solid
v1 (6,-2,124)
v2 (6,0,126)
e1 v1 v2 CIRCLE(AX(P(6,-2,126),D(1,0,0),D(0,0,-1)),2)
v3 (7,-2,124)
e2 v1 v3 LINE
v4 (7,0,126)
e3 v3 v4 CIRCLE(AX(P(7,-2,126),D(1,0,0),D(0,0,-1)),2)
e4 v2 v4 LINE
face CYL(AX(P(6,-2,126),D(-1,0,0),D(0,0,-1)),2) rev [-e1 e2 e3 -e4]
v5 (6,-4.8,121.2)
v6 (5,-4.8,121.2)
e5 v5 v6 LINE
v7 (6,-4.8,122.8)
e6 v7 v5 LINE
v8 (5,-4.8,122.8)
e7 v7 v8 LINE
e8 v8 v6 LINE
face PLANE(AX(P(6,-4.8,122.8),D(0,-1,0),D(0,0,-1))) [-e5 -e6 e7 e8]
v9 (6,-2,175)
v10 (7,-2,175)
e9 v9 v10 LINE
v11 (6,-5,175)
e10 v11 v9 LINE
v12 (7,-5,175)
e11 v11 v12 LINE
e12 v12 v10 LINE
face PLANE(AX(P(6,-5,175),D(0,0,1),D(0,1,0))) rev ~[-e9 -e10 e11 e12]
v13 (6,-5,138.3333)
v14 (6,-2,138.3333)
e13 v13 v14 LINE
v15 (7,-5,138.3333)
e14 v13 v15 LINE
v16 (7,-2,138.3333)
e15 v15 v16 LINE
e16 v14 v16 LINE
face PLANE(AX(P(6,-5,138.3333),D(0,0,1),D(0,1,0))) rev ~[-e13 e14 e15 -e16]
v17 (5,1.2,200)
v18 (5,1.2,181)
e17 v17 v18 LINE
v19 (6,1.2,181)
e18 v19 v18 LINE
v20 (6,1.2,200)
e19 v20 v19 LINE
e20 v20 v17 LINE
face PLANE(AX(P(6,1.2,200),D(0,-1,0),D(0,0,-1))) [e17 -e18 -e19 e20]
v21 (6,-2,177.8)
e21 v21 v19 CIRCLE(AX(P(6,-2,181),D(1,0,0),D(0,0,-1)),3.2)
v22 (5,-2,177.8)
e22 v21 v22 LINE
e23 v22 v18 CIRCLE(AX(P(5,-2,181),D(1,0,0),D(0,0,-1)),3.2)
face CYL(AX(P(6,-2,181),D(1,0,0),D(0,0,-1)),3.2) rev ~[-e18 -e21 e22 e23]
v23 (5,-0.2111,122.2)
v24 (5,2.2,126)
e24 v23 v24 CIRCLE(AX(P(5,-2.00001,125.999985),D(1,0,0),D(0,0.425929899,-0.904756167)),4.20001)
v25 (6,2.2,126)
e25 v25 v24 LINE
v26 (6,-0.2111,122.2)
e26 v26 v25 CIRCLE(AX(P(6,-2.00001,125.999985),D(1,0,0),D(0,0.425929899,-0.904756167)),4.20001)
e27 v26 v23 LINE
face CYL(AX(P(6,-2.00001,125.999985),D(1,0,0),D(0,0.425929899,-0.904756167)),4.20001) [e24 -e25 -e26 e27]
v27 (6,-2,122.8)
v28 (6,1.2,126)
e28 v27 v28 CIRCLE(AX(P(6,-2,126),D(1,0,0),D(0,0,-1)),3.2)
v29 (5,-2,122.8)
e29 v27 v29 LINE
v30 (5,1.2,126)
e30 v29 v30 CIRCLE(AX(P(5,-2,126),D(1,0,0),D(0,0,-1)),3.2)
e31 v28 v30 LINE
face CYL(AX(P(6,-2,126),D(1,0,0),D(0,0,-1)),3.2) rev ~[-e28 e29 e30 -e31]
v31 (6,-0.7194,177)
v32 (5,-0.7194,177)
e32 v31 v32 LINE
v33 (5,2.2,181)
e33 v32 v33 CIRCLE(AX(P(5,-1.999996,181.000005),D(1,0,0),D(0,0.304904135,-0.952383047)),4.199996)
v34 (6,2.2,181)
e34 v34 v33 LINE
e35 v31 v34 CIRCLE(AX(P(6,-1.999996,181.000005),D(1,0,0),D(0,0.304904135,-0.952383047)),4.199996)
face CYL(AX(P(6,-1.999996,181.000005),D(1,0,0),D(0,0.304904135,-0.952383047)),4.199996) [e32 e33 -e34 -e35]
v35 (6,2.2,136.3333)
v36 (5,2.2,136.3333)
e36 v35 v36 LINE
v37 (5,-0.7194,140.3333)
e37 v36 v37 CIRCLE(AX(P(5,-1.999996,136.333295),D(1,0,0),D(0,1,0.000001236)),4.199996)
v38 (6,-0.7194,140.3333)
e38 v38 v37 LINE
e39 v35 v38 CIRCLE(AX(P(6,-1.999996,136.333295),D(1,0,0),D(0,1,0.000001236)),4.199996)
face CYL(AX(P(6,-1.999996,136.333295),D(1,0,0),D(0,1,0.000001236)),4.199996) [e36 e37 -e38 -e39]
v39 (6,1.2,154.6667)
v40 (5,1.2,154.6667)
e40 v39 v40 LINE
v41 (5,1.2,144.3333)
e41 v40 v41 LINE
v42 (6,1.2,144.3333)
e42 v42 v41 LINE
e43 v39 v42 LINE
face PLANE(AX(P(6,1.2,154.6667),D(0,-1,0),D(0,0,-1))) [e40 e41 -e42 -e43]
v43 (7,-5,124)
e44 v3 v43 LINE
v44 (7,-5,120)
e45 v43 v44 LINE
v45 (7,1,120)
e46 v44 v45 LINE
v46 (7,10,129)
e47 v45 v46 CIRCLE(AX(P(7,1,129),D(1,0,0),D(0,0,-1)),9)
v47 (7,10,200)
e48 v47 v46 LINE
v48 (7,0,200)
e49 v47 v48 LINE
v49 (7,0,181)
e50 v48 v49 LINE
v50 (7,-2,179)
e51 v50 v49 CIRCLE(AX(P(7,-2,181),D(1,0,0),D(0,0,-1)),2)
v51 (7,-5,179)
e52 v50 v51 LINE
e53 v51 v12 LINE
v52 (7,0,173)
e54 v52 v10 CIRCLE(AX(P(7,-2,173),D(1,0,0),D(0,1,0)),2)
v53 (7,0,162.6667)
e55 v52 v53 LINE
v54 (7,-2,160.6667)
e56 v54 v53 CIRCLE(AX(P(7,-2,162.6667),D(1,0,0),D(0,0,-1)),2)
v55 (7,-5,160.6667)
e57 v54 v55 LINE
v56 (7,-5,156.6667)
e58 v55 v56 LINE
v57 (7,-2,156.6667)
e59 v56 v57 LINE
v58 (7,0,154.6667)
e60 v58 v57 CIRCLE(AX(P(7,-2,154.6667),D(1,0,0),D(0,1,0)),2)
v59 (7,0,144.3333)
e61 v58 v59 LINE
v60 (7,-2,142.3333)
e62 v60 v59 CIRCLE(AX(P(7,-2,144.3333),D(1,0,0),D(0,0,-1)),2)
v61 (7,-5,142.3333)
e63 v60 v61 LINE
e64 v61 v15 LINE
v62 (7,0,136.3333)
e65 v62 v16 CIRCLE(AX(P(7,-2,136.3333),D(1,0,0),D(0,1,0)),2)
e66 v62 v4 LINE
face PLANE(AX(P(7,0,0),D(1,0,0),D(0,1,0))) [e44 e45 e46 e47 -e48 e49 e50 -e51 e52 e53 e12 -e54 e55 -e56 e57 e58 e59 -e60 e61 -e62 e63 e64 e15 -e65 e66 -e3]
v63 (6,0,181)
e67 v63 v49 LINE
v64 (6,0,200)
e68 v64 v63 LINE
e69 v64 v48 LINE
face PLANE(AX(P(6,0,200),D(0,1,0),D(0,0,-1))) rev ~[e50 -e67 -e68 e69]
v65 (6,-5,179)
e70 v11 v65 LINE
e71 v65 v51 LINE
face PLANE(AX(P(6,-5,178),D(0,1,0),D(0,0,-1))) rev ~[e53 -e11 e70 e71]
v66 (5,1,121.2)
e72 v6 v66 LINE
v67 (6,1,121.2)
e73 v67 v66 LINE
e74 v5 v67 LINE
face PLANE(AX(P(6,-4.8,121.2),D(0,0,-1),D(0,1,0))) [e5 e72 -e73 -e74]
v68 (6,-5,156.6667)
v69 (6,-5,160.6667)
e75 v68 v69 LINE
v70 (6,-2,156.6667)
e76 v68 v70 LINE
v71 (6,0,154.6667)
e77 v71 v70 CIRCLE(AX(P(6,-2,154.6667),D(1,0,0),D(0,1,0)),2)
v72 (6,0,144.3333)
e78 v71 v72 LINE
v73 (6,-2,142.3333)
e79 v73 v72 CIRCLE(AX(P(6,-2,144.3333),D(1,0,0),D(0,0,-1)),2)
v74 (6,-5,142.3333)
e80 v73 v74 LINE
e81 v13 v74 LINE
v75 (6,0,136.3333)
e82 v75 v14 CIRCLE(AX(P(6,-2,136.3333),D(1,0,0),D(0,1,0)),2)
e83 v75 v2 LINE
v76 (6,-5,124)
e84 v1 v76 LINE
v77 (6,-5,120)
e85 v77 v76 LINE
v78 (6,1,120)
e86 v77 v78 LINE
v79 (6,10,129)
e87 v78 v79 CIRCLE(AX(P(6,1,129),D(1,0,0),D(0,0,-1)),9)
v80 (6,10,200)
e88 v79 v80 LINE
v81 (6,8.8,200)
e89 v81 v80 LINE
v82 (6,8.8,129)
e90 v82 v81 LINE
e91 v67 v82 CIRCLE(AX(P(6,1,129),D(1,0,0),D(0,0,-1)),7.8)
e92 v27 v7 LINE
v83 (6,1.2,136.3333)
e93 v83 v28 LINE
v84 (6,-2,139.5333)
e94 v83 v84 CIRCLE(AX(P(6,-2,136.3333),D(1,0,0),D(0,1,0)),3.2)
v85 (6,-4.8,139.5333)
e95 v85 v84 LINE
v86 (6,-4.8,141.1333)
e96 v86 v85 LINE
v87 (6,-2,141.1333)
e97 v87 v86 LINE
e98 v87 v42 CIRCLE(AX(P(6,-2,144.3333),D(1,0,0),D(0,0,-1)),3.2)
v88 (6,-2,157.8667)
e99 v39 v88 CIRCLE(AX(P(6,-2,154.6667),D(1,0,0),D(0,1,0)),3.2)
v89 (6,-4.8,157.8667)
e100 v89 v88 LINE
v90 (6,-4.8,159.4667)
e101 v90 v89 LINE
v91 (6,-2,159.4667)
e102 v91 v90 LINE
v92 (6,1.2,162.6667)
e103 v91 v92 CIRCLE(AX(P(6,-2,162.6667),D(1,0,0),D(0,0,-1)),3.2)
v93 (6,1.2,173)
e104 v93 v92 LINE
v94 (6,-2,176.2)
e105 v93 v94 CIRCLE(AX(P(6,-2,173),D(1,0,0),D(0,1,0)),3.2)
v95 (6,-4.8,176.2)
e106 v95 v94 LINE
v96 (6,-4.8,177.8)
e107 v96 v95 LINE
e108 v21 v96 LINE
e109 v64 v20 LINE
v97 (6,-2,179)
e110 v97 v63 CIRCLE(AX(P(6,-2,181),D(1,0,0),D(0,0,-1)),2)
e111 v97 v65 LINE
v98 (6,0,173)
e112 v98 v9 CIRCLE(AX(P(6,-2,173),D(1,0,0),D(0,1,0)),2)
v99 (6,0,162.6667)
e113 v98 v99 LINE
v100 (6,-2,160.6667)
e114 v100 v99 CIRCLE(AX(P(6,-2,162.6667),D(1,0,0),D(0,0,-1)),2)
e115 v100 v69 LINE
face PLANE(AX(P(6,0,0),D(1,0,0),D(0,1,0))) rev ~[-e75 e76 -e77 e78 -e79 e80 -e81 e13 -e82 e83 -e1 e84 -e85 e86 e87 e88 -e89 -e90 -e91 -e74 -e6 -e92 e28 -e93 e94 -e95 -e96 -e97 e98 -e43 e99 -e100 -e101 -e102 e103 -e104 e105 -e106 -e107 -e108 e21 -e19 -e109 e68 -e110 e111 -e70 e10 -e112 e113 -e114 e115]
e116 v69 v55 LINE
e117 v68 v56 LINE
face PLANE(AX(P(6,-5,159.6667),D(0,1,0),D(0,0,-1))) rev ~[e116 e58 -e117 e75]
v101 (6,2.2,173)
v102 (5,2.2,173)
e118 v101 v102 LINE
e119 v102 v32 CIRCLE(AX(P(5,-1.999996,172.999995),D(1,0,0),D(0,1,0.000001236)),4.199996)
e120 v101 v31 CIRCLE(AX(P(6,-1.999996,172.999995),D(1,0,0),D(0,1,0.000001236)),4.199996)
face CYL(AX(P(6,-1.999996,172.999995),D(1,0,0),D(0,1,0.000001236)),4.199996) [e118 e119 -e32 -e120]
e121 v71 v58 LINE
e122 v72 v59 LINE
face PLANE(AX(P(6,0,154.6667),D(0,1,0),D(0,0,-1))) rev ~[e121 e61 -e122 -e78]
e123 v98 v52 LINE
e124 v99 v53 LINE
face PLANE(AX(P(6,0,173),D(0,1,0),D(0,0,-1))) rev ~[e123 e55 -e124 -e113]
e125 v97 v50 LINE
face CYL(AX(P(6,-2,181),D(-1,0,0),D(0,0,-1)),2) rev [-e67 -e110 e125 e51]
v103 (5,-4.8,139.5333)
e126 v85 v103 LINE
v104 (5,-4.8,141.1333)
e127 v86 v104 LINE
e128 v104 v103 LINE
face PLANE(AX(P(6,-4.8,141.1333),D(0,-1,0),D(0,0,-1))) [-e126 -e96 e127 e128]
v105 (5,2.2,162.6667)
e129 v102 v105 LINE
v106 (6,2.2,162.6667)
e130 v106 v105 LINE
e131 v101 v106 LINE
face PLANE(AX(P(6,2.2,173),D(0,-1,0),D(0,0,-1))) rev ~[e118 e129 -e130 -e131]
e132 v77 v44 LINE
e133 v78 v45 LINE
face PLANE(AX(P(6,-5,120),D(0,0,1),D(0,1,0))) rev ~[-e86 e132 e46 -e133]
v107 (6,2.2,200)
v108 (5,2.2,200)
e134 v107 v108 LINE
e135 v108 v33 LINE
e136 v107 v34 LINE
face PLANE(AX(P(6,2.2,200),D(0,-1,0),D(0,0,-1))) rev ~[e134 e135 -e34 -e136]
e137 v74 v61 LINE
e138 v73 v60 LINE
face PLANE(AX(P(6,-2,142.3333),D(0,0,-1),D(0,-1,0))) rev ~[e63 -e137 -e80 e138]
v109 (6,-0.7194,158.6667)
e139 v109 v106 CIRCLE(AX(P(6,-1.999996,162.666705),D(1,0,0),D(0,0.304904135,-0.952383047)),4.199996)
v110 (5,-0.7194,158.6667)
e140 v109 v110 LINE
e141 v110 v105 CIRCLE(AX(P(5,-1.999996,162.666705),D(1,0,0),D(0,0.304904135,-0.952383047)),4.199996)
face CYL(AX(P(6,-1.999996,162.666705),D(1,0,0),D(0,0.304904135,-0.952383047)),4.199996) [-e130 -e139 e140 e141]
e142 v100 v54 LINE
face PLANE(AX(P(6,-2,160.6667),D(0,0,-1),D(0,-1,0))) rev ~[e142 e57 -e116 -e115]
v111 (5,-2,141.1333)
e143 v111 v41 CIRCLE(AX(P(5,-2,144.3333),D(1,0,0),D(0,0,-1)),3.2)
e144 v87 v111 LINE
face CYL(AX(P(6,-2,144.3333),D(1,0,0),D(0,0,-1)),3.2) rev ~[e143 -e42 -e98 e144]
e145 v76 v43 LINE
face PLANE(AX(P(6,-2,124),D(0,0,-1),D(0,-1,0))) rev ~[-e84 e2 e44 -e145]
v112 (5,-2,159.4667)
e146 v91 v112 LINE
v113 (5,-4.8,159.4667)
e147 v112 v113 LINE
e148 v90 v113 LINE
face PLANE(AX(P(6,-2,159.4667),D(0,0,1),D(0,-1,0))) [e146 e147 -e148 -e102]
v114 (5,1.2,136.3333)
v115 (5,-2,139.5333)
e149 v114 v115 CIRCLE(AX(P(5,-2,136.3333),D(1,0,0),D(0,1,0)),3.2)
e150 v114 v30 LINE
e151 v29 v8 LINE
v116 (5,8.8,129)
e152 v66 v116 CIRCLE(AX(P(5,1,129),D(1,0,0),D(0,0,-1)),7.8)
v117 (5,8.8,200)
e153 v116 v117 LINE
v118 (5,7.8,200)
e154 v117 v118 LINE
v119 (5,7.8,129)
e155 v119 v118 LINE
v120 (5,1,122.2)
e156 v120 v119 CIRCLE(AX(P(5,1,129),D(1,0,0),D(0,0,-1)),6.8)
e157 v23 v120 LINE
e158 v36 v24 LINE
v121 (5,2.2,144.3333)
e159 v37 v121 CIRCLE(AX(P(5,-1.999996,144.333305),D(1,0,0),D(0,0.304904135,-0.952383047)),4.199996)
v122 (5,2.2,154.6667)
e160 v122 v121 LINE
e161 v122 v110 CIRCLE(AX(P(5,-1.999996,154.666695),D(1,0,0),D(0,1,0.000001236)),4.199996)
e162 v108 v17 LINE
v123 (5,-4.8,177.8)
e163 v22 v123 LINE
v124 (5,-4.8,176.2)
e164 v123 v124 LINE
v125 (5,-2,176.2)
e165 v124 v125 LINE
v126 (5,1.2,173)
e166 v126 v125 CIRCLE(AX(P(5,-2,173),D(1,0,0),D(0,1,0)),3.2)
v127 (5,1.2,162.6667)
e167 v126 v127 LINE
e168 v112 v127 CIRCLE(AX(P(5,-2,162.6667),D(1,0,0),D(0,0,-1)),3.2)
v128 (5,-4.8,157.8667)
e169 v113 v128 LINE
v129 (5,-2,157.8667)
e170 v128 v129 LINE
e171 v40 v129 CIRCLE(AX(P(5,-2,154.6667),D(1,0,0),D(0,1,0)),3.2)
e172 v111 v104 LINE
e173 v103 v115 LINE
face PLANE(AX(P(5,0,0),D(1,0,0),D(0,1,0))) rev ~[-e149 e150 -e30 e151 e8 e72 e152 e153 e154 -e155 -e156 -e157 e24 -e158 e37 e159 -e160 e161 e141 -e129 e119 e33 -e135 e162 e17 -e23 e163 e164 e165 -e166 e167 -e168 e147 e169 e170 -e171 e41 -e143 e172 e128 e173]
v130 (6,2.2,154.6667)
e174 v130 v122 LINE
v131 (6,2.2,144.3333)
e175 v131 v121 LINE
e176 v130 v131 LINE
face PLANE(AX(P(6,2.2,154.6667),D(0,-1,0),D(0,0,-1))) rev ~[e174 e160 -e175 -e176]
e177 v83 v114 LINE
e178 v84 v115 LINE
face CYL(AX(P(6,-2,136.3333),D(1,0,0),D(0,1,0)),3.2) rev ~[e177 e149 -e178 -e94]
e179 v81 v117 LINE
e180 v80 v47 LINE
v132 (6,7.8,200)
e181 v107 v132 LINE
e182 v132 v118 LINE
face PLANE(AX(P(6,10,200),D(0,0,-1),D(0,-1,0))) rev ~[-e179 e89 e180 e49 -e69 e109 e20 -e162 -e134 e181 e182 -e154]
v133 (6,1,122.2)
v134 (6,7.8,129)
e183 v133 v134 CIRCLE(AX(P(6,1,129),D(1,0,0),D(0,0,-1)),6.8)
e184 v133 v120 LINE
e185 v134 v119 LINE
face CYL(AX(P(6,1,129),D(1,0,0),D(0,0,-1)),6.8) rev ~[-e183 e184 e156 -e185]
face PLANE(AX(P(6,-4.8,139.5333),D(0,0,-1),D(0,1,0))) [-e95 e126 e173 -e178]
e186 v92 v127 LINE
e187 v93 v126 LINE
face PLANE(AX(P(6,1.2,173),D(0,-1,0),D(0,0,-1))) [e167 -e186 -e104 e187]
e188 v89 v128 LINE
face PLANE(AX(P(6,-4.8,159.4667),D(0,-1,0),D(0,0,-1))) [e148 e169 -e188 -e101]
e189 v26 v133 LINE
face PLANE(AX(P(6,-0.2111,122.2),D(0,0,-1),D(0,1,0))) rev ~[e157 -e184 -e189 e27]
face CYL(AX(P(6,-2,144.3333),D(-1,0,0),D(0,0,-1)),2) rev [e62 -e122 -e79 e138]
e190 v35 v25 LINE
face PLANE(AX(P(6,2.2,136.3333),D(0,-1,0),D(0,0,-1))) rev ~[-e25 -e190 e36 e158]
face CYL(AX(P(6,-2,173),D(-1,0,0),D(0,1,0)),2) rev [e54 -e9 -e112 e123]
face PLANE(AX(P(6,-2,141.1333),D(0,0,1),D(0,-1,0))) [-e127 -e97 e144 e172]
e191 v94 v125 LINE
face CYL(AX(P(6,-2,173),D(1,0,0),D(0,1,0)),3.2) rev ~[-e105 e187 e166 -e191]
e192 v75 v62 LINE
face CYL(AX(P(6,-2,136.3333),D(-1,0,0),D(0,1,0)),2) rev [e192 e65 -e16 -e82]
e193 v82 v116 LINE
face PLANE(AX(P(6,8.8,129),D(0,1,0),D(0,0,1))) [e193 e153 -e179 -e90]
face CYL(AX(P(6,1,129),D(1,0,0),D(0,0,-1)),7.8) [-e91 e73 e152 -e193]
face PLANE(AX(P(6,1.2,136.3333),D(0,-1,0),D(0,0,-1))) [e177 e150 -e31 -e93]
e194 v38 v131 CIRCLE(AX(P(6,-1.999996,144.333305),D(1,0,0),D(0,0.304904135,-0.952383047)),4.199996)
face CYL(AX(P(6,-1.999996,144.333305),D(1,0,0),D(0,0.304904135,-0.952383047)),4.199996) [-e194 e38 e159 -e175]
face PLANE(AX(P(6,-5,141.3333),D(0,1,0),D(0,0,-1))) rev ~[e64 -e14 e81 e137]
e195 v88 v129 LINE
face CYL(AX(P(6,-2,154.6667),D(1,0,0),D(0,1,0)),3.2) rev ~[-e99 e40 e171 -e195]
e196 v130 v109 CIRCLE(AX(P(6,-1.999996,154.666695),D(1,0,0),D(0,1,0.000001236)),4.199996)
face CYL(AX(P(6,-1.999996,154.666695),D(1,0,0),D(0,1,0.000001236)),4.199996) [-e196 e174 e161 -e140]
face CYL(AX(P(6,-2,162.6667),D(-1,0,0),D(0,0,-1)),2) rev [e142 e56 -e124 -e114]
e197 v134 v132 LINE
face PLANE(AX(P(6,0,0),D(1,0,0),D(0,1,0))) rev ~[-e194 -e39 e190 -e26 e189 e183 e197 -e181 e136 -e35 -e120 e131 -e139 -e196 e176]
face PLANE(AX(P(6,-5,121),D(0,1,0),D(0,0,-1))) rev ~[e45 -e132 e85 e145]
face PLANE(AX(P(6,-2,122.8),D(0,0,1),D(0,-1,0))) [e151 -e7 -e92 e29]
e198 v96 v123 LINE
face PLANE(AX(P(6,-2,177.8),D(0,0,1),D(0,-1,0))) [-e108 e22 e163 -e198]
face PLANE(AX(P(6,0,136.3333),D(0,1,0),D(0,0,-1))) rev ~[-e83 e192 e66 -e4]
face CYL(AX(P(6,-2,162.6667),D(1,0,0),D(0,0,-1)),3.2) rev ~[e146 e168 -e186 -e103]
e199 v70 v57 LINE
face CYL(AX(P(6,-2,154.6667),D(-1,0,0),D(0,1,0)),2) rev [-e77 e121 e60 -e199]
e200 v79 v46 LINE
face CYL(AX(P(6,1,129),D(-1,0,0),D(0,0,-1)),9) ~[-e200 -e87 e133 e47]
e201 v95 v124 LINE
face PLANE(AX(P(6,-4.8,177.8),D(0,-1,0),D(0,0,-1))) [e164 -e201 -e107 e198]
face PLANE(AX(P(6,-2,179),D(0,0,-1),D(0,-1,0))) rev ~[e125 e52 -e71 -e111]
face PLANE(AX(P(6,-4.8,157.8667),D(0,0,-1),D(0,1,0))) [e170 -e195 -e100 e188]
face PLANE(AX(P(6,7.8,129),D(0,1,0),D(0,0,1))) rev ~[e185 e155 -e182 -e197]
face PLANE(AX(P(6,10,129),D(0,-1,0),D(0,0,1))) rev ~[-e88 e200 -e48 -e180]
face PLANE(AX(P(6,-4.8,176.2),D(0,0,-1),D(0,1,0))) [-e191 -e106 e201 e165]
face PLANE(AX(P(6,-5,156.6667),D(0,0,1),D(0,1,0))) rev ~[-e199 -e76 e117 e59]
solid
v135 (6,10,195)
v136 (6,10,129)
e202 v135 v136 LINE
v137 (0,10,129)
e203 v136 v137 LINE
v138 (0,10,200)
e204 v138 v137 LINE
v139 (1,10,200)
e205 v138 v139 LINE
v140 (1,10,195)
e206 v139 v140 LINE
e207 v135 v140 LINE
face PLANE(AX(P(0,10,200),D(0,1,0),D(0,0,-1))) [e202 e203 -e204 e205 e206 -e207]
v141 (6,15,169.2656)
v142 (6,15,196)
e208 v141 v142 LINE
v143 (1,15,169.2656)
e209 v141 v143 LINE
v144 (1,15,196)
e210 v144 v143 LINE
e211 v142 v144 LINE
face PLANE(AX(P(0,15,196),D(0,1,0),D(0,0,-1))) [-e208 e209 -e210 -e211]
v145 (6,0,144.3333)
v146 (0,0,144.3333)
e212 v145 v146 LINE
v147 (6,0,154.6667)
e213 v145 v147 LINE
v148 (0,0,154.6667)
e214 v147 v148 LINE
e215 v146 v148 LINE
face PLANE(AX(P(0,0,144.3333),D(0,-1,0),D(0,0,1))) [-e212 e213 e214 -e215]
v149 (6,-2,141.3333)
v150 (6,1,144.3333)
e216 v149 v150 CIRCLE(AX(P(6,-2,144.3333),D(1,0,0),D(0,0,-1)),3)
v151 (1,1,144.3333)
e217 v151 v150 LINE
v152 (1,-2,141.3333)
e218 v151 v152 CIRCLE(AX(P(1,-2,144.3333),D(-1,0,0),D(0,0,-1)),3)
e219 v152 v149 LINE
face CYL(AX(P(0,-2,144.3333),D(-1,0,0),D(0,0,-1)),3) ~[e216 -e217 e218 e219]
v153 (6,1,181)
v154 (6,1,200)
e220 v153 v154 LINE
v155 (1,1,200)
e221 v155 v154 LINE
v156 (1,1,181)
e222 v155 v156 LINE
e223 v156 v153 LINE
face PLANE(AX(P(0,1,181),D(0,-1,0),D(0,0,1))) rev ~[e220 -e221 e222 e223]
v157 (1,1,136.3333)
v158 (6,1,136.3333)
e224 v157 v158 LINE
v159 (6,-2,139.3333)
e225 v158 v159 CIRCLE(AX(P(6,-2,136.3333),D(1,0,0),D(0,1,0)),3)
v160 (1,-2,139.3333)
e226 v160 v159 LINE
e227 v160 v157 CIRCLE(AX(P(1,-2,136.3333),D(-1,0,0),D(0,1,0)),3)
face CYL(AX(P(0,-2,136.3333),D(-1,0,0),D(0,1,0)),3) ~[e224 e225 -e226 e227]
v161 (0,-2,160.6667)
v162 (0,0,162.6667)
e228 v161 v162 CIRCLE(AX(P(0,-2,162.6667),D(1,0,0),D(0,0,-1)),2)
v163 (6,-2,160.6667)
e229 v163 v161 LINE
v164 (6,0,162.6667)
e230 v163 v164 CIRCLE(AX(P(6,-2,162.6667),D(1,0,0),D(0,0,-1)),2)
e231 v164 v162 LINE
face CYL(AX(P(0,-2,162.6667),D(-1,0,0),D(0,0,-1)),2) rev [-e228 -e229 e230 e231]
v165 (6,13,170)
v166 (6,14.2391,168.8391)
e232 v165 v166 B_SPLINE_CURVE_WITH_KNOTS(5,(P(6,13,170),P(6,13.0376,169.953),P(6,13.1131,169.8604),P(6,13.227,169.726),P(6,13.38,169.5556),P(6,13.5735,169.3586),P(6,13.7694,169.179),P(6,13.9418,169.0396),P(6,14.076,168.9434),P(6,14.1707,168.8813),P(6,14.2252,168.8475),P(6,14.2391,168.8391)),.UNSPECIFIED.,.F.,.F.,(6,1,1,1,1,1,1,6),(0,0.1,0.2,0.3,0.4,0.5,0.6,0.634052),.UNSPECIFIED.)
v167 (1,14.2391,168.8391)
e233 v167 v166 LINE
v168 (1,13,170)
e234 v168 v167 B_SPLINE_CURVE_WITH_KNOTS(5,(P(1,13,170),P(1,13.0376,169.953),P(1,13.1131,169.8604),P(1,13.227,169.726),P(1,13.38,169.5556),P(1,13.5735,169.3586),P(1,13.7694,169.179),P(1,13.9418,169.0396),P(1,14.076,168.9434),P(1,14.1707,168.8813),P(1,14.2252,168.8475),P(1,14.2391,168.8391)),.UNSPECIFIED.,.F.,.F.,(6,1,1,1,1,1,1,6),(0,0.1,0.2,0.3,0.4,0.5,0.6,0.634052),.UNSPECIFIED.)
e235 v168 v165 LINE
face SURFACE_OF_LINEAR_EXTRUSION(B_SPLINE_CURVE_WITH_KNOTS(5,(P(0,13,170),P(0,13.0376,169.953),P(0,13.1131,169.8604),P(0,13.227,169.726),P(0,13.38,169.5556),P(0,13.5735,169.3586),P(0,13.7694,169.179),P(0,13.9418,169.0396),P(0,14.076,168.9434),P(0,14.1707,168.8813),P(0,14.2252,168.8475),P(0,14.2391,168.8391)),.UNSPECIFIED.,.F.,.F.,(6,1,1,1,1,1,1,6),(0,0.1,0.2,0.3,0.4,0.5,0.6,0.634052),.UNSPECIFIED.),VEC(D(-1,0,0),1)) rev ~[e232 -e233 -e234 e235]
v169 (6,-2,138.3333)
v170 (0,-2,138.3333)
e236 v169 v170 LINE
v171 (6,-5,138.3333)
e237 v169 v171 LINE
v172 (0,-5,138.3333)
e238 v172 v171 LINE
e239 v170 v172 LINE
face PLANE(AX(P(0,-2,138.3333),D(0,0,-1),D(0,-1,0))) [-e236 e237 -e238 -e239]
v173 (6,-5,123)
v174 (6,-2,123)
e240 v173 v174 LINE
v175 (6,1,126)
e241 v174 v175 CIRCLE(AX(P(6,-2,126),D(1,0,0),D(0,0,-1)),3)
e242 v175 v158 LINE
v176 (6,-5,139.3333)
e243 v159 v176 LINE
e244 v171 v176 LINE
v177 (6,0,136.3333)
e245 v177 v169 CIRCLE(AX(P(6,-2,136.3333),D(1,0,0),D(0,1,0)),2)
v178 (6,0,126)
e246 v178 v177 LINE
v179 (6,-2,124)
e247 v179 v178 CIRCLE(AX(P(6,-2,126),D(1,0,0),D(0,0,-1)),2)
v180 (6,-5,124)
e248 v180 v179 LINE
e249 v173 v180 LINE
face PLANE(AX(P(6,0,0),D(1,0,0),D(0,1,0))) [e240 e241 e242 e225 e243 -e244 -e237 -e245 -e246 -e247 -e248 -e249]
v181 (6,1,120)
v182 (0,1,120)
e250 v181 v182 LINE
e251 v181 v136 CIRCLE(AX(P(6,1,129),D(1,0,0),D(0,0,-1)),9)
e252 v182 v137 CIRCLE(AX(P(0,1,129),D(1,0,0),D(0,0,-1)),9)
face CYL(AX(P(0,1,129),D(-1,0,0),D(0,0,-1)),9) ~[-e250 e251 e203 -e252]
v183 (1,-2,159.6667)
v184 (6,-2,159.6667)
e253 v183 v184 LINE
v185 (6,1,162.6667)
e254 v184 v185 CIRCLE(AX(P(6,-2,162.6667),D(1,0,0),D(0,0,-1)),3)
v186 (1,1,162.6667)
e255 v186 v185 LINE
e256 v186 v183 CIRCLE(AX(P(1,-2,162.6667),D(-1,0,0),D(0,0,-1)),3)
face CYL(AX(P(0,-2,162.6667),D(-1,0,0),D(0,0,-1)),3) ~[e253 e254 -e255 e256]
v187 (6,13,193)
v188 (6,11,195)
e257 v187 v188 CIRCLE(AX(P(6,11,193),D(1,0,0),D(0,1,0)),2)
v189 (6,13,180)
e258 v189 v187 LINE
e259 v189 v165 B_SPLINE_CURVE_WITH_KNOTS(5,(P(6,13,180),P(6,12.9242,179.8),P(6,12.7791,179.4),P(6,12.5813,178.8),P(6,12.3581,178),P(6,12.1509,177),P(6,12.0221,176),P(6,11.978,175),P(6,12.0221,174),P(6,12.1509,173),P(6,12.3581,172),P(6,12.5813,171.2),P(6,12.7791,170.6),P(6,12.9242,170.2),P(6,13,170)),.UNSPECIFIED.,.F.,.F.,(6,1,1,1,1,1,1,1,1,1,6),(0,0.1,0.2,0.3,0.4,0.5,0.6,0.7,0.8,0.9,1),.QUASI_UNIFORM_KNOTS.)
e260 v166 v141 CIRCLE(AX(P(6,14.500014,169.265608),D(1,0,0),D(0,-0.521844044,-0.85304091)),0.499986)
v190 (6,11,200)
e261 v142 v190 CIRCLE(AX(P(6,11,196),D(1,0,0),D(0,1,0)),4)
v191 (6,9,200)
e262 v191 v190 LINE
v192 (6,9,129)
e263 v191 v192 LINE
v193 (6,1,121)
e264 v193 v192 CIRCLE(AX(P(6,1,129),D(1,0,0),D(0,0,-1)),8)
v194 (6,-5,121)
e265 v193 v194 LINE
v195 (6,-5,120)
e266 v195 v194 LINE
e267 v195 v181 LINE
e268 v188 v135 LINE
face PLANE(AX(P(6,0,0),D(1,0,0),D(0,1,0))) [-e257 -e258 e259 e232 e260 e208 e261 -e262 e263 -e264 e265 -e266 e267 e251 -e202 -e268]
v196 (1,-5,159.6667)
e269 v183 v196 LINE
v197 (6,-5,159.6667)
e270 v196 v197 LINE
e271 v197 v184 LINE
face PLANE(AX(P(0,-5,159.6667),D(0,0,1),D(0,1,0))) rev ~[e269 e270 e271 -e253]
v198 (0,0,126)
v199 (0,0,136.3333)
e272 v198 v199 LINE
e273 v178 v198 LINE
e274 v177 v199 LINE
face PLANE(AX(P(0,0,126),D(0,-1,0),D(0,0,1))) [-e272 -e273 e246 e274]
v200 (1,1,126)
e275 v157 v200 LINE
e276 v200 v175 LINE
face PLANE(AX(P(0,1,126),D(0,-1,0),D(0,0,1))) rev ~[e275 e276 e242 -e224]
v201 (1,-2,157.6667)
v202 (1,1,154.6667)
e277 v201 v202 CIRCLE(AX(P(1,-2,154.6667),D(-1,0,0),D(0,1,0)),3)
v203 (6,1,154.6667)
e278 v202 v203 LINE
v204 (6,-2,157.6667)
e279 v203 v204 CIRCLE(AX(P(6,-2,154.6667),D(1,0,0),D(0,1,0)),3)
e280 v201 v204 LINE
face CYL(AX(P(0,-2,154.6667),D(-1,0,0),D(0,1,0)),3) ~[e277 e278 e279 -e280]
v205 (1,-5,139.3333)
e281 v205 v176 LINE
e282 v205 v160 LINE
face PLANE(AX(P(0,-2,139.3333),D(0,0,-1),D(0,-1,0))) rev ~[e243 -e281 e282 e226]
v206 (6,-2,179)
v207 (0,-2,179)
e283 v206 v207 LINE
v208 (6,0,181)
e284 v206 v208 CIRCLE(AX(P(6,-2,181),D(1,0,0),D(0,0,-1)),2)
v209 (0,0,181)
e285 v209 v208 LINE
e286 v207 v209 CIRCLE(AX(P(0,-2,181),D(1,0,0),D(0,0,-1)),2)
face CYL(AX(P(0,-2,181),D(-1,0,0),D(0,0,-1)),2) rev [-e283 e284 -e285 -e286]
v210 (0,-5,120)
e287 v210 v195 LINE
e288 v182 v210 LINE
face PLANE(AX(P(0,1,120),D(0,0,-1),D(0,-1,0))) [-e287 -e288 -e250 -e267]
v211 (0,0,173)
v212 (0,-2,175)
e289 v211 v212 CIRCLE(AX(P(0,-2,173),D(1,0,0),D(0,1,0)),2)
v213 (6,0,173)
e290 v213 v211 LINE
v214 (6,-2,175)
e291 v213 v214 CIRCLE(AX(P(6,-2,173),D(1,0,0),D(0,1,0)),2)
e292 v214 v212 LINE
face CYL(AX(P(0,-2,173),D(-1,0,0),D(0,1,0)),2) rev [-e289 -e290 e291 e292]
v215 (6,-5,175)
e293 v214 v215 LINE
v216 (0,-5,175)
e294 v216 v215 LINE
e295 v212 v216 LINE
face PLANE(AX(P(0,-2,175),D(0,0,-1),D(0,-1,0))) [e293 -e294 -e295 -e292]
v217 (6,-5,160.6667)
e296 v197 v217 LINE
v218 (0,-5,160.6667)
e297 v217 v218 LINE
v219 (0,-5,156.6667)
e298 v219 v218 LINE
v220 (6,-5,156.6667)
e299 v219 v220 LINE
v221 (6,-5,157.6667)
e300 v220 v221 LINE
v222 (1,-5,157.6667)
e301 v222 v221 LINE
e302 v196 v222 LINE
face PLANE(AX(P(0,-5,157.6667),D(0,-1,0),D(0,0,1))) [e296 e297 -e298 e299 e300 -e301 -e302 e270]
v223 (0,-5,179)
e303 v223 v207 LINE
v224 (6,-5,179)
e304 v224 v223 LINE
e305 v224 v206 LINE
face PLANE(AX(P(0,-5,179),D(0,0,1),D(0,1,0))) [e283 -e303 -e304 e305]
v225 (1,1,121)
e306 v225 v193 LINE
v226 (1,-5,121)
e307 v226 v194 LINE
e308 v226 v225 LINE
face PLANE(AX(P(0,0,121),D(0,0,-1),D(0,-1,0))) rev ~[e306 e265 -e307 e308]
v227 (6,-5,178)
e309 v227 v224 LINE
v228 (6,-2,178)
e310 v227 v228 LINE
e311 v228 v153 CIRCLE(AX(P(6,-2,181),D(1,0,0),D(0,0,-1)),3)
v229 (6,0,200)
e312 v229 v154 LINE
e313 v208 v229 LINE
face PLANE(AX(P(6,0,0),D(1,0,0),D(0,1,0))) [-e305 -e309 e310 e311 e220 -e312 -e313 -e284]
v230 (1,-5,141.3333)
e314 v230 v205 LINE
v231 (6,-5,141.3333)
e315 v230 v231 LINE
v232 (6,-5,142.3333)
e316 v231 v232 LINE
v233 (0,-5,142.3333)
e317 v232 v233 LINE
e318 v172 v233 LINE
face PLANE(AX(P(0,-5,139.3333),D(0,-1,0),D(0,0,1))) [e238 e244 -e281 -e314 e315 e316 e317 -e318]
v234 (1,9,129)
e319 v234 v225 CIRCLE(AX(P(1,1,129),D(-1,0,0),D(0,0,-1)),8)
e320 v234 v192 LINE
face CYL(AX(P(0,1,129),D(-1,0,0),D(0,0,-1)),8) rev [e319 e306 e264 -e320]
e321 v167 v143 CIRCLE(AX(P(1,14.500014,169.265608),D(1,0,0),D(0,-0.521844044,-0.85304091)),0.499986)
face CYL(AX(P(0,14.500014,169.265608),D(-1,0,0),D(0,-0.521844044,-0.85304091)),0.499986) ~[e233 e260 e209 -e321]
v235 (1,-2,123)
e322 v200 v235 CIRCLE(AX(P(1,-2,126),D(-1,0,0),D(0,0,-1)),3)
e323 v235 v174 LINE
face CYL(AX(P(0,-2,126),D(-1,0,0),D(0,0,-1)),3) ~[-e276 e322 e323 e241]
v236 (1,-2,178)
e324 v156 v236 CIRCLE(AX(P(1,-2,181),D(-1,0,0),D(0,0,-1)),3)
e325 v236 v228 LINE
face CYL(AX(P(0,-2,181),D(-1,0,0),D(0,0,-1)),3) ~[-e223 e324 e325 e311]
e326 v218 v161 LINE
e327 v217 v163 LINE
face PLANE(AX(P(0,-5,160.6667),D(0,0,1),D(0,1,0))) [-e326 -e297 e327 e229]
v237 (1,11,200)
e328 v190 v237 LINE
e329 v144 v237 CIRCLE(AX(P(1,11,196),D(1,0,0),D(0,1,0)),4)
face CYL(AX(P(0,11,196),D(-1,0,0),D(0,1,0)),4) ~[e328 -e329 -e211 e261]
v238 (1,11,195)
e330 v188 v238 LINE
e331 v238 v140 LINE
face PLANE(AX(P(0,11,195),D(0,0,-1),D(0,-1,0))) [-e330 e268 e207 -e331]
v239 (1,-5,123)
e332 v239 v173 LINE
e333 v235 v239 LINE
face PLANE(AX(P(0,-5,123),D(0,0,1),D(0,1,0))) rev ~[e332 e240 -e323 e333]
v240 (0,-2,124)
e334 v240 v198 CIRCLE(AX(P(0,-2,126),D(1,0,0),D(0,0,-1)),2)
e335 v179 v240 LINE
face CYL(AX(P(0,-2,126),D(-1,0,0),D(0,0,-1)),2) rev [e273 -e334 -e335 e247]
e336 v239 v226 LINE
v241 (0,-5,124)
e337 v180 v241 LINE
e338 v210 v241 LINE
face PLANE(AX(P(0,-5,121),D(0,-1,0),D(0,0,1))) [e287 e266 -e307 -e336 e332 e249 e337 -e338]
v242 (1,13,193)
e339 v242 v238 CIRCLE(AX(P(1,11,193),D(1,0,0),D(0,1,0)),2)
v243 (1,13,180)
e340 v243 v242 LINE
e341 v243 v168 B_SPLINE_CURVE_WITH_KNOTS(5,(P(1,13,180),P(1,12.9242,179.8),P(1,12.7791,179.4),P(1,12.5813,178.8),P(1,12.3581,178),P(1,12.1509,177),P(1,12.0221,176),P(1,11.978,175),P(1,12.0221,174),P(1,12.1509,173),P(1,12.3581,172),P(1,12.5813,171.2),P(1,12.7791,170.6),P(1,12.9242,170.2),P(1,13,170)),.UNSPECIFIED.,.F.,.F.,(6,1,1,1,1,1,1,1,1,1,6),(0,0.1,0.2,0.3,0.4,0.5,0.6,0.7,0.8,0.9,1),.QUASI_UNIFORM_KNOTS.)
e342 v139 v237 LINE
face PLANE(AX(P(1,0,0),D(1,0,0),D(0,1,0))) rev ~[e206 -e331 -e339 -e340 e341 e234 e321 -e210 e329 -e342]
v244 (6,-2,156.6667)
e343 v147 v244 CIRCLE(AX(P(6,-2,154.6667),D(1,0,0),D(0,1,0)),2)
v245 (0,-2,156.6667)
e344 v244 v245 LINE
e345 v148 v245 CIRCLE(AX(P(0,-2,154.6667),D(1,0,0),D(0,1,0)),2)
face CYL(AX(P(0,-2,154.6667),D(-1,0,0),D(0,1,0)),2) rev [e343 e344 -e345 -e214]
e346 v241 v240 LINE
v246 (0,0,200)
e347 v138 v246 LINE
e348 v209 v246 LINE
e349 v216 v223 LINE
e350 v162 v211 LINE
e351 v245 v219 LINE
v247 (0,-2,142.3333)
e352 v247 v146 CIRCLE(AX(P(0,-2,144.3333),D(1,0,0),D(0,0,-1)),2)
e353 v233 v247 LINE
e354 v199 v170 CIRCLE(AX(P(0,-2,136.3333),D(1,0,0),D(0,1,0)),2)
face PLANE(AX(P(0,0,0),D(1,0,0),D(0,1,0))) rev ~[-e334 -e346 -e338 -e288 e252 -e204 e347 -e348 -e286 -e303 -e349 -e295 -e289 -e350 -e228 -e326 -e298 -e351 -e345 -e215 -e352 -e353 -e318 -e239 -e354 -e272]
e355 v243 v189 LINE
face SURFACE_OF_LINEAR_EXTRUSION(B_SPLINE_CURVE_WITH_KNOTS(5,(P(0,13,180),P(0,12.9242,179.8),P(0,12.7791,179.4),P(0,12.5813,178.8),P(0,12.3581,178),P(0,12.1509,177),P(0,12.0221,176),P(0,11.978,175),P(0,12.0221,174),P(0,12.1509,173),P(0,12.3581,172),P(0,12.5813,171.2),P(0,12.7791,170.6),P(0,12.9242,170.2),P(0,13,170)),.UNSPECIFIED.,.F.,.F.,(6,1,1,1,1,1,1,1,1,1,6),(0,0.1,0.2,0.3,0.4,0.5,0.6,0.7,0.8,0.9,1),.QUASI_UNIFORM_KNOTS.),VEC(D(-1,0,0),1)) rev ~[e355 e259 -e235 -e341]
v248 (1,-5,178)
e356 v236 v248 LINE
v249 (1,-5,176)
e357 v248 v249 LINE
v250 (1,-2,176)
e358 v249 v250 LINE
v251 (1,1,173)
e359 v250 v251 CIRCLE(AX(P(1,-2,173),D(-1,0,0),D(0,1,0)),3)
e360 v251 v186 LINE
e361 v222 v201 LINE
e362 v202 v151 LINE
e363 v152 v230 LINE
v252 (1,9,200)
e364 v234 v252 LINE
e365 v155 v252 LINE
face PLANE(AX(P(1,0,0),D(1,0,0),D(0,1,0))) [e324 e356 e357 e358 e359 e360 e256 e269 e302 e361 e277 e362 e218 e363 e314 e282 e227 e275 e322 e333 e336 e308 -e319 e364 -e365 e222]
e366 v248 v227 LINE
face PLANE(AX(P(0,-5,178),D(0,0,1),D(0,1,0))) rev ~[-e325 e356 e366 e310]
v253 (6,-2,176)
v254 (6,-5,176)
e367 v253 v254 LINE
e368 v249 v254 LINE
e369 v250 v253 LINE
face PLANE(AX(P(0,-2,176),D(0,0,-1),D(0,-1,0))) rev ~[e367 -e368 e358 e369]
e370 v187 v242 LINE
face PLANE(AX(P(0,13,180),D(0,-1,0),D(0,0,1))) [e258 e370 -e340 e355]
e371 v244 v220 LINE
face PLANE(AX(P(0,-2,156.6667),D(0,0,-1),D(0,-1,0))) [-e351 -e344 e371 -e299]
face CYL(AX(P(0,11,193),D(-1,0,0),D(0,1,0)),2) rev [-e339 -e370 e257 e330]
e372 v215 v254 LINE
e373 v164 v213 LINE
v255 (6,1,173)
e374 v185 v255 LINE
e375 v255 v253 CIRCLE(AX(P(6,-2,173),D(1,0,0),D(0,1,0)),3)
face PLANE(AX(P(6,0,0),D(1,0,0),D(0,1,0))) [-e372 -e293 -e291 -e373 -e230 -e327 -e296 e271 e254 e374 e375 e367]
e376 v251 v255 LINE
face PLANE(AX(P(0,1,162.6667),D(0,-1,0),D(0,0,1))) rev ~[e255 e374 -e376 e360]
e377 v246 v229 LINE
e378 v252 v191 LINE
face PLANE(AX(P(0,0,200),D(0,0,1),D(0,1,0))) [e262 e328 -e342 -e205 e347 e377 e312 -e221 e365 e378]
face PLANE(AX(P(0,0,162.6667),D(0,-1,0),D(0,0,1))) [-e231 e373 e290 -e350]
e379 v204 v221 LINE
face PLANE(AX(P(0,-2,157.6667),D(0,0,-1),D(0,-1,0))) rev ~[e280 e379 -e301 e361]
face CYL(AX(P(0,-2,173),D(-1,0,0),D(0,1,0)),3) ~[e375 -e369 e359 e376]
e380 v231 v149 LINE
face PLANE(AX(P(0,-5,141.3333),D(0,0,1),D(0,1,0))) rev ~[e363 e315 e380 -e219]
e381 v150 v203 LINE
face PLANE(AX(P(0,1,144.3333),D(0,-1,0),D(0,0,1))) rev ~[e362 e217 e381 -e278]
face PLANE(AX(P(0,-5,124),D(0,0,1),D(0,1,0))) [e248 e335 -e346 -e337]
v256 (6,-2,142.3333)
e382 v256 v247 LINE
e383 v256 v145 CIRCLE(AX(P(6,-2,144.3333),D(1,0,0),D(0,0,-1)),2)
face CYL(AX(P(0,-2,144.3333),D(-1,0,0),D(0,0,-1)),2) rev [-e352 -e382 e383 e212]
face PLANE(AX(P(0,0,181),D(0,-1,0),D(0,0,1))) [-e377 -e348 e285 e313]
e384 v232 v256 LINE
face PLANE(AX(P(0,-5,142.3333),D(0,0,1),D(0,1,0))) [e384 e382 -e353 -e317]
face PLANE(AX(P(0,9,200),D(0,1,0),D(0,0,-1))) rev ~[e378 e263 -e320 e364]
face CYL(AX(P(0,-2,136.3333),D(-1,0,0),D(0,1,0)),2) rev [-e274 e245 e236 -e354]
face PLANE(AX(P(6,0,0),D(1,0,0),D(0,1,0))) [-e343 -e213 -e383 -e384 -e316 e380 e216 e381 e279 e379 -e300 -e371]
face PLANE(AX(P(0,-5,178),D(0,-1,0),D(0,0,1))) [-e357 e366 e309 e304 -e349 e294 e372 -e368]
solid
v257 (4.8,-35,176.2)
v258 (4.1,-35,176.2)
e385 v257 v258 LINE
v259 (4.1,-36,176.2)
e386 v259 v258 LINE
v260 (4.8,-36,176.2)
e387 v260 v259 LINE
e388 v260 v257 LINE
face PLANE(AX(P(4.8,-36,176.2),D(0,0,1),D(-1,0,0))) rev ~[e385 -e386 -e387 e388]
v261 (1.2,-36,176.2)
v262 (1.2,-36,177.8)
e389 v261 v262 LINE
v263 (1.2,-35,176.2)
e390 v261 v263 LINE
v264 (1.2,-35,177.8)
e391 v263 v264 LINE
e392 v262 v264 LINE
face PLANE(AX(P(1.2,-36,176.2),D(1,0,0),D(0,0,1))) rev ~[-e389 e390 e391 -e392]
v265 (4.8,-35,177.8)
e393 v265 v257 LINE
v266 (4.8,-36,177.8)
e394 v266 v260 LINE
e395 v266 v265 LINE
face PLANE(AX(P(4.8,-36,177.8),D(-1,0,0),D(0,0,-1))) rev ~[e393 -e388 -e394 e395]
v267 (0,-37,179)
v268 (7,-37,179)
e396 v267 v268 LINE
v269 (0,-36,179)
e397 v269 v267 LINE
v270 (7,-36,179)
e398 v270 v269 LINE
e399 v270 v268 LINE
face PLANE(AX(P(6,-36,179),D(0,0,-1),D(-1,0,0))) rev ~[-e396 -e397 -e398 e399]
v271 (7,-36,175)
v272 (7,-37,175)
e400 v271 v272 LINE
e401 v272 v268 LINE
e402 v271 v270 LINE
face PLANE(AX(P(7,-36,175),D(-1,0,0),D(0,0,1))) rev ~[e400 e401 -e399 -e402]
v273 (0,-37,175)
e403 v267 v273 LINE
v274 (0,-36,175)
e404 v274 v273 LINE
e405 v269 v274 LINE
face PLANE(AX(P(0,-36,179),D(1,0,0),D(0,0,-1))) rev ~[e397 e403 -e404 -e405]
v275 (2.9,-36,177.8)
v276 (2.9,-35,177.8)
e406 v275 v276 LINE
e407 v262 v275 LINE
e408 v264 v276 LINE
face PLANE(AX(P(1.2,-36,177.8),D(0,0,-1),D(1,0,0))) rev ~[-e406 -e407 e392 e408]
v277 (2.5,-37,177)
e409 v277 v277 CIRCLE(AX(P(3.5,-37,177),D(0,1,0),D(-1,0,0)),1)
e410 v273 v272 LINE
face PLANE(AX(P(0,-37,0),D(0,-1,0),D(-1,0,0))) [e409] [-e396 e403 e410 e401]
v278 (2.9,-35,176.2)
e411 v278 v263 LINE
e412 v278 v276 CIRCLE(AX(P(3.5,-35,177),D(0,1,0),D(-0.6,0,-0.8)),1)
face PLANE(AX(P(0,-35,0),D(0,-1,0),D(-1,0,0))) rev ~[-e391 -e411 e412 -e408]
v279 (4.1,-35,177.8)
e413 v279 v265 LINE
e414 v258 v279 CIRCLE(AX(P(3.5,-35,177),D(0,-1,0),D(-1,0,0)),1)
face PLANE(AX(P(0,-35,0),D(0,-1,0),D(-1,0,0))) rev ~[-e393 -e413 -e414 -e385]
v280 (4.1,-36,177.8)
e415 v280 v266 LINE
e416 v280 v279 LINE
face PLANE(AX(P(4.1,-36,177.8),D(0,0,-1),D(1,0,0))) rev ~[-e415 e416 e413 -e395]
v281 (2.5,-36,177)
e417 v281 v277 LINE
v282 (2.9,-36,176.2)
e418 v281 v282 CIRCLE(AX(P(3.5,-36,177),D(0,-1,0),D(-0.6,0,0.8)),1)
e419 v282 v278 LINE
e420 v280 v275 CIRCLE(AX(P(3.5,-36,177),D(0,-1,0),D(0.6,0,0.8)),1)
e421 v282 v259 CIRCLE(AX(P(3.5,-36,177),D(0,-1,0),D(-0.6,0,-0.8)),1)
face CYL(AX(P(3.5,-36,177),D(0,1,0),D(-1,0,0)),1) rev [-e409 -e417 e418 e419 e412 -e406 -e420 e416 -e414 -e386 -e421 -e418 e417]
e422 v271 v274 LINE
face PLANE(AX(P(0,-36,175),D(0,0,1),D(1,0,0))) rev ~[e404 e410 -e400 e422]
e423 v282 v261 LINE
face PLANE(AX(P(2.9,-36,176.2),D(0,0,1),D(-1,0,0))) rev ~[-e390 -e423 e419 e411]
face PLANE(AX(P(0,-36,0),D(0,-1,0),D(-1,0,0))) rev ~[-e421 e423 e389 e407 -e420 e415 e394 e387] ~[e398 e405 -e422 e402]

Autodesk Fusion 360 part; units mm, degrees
sketch "Sketch1" plane through (0, 0, 0) normal (1, 0, 0) x (0, 1, 0)
  line L0 (0, 200) -> (10, 200)
  line L1 (10, 200) -> (10, 129)
  line L2 (1, 120) -> (0, 120)
  line L3 (0, 120) -> (-5, 120)
  line L4 (-5, 120) -> (-5, 124)
  line L5 (-5, 124) -> (-2, 124)
  line L6 (-5, 142.3333) -> (-2, 142.3333)
  line L7 (-5, 138.3333) -> (-5, 142.3333)
  line L8 (-2, 138.3333) -> (-5, 138.3333)
  line L9 (-5, 160.6667) -> (-2, 160.6667)
  line L10 (-5, 156.6667) -> (-5, 160.6667)
  line L11 (-2, 156.6667) -> (-5, 156.6667)
  line L12 (-5, 179) -> (-2, 179)
  line L13 (-5, 175) -> (-5, 179)
  line L14 (-2, 175) -> (-5, 175)
  line L15 (0, 181) -> (0, 200)
  line L16 (0, 162.6667) -> (0, 173)
  line L17 (0, 126) -> (0, 136.3333)
  line L18 (0, 144.3333) -> (0, 154.6667)
  arc A0 (1, 120) -> (10, 129) centre (1, 129) ccw
  arc A1 (-2, 179) -> (0, 181) centre (-2, 181) ccw
  arc A2 (0, 173) -> (-2, 175) centre (-2, 173) ccw
  arc A3 (-2, 160.6667) -> (0, 162.6667) centre (-2, 162.6667) ccw
  arc A4 (0, 154.6667) -> (-2, 156.6667) centre (-2, 154.6667) ccw
  arc A5 (-2, 142.3333) -> (0, 144.3333) centre (-2, 144.3333) ccw
  arc A6 (0, 136.3333) -> (-2, 138.3333) centre (-2, 136.3333) ccw
  arc A7 (-2, 124) -> (0, 126) centre (-2, 126) ccw
  line L19 (0, 121) -> (-5, 121)
  line L20 (-5, 123) -> (-2, 123)
  arc A8 (-2, 123) -> (1, 126) centre (-2, 126) ccw
  line L21 (1, 126) -> (1, 136.3333)
  arc A9 (1, 136.3333) -> (-2, 139.3333) centre (-2, 136.3333) ccw
  line L22 (-2, 139.3333) -> (-5, 139.3333)
  line L23 (-5, 141.3333) -> (-2, 141.3333)
  arc A10 (-2, 141.3333) -> (1, 144.3333) centre (-2, 144.3333) ccw
  line L24 (1, 144.3333) -> (1, 154.6667)
  arc A11 (1, 154.6667) -> (-2, 157.6667) centre (-2, 154.6667) ccw
  line L25 (-2, 157.6667) -> (-5, 157.6667)
  line L26 (-5, 159.6667) -> (-2, 159.6667)
  arc A12 (-2, 159.6667) -> (1, 162.6667) centre (-2, 162.6667) ccw
  line L27 (1, 162.6667) -> (1, 173)
  arc A13 (1, 173) -> (-2, 176) centre (-2, 173) ccw
  line L28 (-2, 176) -> (-5, 176)
  line L29 (-5, 178) -> (-2, 178)
  arc A14 (-2, 178) -> (1, 181) centre (-2, 181) ccw
  line L30 (1, 181) -> (1, 200)
  line L31 (9, 200) -> (9, 129)
  arc A15 (1, 121) -> (9, 129) centre (1, 129) ccw
  line L32 (1, 121) -> (0, 121)
  line L33 (10, 200) -> (11, 200)
  line L34 (15, 196) -> (15, 170)
  line L35 (13, 180) -> (13, 193)
  line L36 (11, 195) -> (10, 195)
  spline S0 degree 5 poles (13, 180) (12.9242, 179.8) (12.7791, 179.4) (12.5813, 178.8) (12.3581, 178) (12.1509, 177) (12.0221, 176) (11.978, 175) (12.0221, 174) (12.1509, 173) (12.3581, 172) (12.5813, 171.2) (12.7791, 170.6) (12.9242, 170.2) (13, 170) knots 0 0 0 0 0 0 0.1 0.2 0.3 0.4 0.5 0.6 0.7 0.8 0.9 1 1 1 1 1 1
  arc A16 (15, 196) -> (11, 200) centre (11, 196) ccw
  arc A17 (13, 193) -> (11, 195) centre (11, 193) ccw
  spline S1 degree 5 poles (13, 170) (13.0376, 169.953) (13.1131, 169.8604) (13.227, 169.726) (13.38, 169.5556) (13.5735, 169.3586) (13.7694, 169.179) (13.9418, 169.0396) (14.076, 168.9434) (14.1707, 168.8813) (14.2252, 168.8475) (14.2391, 168.8391) knots 0 0 0 0 0 0 0.1 0.2 0.3 0.4 0.5 0.6 0.634052 0.634052 0.634052 0.634052 0.634052 0.634052
  line L37 (15, 170) -> (15, 169.2656)
  arc A18 (14.2391, 168.8391) -> (15, 169.2656) centre (14.5, 169.2656) ccw
  point P0 (0, 124)
  point P1 (12, 175)
  point P2 (14, 169)
  dimension "d1" = 10
  dimension "d2" = 80
  dimension "d3" = 5
  dimension "d4" = 4
  dimension "d10" = 9
  dimension "d11" = 2
  dimension "d12" = 4
  dimension "d13" = 2
  dimension "d14" = 0.5
extrude "Extrude1" add sketch "Sketch1" along normal blind 1 makes body 1
extrude "Extrude2" add sketch "Sketch1" along normal blind 6 contours L0 L12 L13 L15 A1 L29 A14 L30 | L0 L1 L2 L3 L4 A0 L19 L31 A15 L32 | L1 L33 L34 L35 L36 S0 A16 A17 S1 L37 A18 | L9 L10 L13 L14 L16 A2 A3 L26 A12 L27 A13 L28 | L4 L5 L7 L8 L17 A6 A7 L20 A8 L21 A9 L22 | L6 L7 L10 L11 L18 A4 A5 L23 A10 L24 A11 L25 bodies 1
extrude "Extrude3" cut sketch "Sketch1" along normal blind 1 contours L1 L33 L34 L35 L36 S0 A16 A17 S1 L37 A18 bodies 1
sketch "Sketch2" plane through (6, 0, 0) normal (1, 0, 0) x (0, 1, 0)
  spline S0 degree 5 poles (13, 180) (12.9242, 179.8) (12.7791, 179.4) (12.5813, 178.8) (12.3581, 178) (12.1509, 177) (12.0221, 176) (11.978, 175) (12.0221, 174) (12.1509, 173) (12.3581, 172) (12.5813, 171.2) (12.7791, 170.6) (12.9242, 170.2) (13, 170) knots 0 0 0 0 0 0 0.1 0.2 0.3 0.4 0.5 0.6 0.7 0.8 0.9 1 1 1 1 1 1
  spline S1 degree 5 poles (13, 170) (13.0376, 169.953) (13.1131, 169.8604) (13.227, 169.726) (13.38, 169.5556) (13.5735, 169.3586) (13.7694, 169.179) (13.9418, 169.0396) (14.076, 168.9434) (14.1707, 168.8813) (14.2252, 168.8475) (14.2391, 168.8391) knots 0 0 0 0 0 0 0.1 0.2 0.3 0.4 0.5 0.6 0.634052 0.634052 0.634052 0.634052 0.634052 0.634052
  arc A0 (14.2391, 168.8391) -> (15, 169.2656) centre (14.5, 169.2656) ccw
  line L0 (15, 169.2656) -> (15, 196)
  arc A1 (15, 196) -> (11, 200) centre (11, 196) ccw
  line L1 (11, 200) -> (9, 200)
  line L2 (9, 200) -> (9, 129)
  arc A2 (1, 121) -> (9, 129) centre (1, 129) ccw
  line L3 (1, 121) -> (-5, 121)
  line L4 (-5, 121) -> (-5, 120)
  line L5 (-5, 120) -> (1, 120)
  arc A3 (1, 120) -> (10, 129) centre (1, 129) ccw
  line L6 (10, 129) -> (10, 195)
  line L7 (10, 195) -> (11, 195)
  arc A4 (13, 193) -> (11, 195) centre (11, 193) ccw
  line L8 (13, 193) -> (13, 180)
  line L9 (-5, 178) -> (-2, 178)
  arc A5 (-2, 178) -> (1, 181) centre (-2, 181) ccw
  line L10 (1, 181) -> (1, 200)
  line L11 (1, 200) -> (0, 200)
  line L12 (0, 200) -> (0, 181)
  arc A6 (-2, 179) -> (0, 181) centre (-2, 181) ccw
  line L13 (-2, 179) -> (-5, 179)
  line L14 (-5, 179) -> (-5, 178)
  line L15 (-5, 159.6667) -> (-2, 159.6667)
  arc A7 (-2, 159.6667) -> (1, 162.6667) centre (-2, 162.6667) ccw
  line L16 (1, 162.6667) -> (1, 173)
  arc A8 (1, 173) -> (-2, 176) centre (-2, 173) ccw
  line L17 (-2, 176) -> (-5, 176)
  line L18 (-5, 176) -> (-5, 175)
  line L19 (-5, 175) -> (-2, 175)
  arc A9 (0, 173) -> (-2, 175) centre (-2, 173) ccw
  line L20 (0, 173) -> (0, 162.6667)
  arc A10 (-2, 160.6667) -> (0, 162.6667) centre (-2, 162.6667) ccw
  line L21 (-2, 160.6667) -> (-5, 160.6667)
  line L22 (-5, 160.6667) -> (-5, 159.6667)
  line L23 (-5, 141.3333) -> (-2, 141.3333)
  arc A11 (-2, 141.3333) -> (1, 144.3333) centre (-2, 144.3333) ccw
  line L24 (1, 144.3333) -> (1, 154.6667)
  arc A12 (1, 154.6667) -> (-2, 157.6667) centre (-2, 154.6667) ccw
  line L25 (-2, 157.6667) -> (-5, 157.6667)
  line L26 (-5, 157.6667) -> (-5, 156.6667)
  line L27 (-5, 156.6667) -> (-2, 156.6667)
  arc A13 (0, 154.6667) -> (-2, 156.6667) centre (-2, 154.6667) ccw
  line L28 (0, 154.6667) -> (0, 144.3333)
  arc A14 (-2, 142.3333) -> (0, 144.3333) centre (-2, 144.3333) ccw
  line L29 (-2, 142.3333) -> (-5, 142.3333)
  line L30 (-5, 142.3333) -> (-5, 141.3333)
  line L31 (-5, 123) -> (-2, 123)
  arc A15 (-2, 123) -> (1, 126) centre (-2, 126) ccw
  line L32 (1, 126) -> (1, 136.3333)
  arc A16 (1, 136.3333) -> (-2, 139.3333) centre (-2, 136.3333) ccw
  line L33 (-2, 139.3333) -> (-5, 139.3333)
  line L34 (-5, 139.3333) -> (-5, 138.3333)
  line L35 (-5, 138.3333) -> (-2, 138.3333)
  arc A17 (0, 136.3333) -> (-2, 138.3333) centre (-2, 136.3333) ccw
  line L36 (0, 136.3333) -> (0, 126)
  arc A18 (-2, 124) -> (0, 126) centre (-2, 126) ccw
  line L37 (-2, 124) -> (-5, 124)
  line L38 (-5, 124) -> (-5, 123)
  line L39 (-5, 139.3333) -> (-2, 139.3333)
  arc A19 (1, 136.3333) -> (-2, 139.3333) centre (-2, 136.3333) ccw
  line L40 (1, 136.3333) -> (1, 126)
  arc A20 (-2, 123) -> (1, 126) centre (-2, 126) ccw
  line L41 (-2, 123) -> (-5, 123)
  line L42 (-5, 123) -> (-5, 121)
  line L43 (-5, 121) -> (1, 121)
  arc A21 (1, 121) -> (9, 129) centre (1, 129) ccw
  line L44 (9, 129) -> (9, 200)
  line L45 (9, 200) -> (1, 200)
  line L46 (1, 200) -> (1, 181)
  arc A22 (-2, 178) -> (1, 181) centre (-2, 181) ccw
  line L47 (-2, 178) -> (-5, 178)
  line L48 (-5, 178) -> (-5, 176)
  line L49 (-5, 176) -> (-2, 176)
  arc A23 (1, 173) -> (-2, 176) centre (-2, 173) ccw
  line L50 (1, 173) -> (1, 162.6667)
  arc A24 (-2, 159.6667) -> (1, 162.6667) centre (-2, 162.6667) ccw
  line L51 (-2, 159.6667) -> (-5, 159.6667)
  line L52 (-5, 159.6667) -> (-5, 157.6667)
  line L53 (-5, 157.6667) -> (-2, 157.6667)
  arc A25 (1, 154.6667) -> (-2, 157.6667) centre (-2, 154.6667) ccw
  line L54 (1, 154.6667) -> (1, 144.3333)
  arc A26 (-2, 141.3333) -> (1, 144.3333) centre (-2, 144.3333) ccw
  line L55 (-2, 141.3333) -> (-5, 141.3333)
  line L56 (-5, 141.3333) -> (-5, 139.3333)
  line L57 (10, 195) -> (10, 200)
  line L58 (1.2, 200) -> (1.2, 181)
  arc A27 (-2, 177.8) -> (1.2, 181) centre (-2, 181) ccw
  line L59 (-2, 177.8) -> (-4.8, 177.8)
  line L60 (-4.8, 177.8) -> (-4.8, 176.2)
  line L61 (-4.8, 176.2) -> (-2, 176.2)
  arc A28 (1.2, 173) -> (-2, 176.2) centre (-2, 173) ccw
  line L62 (1.2, 173) -> (1.2, 162.6667)
  arc A29 (-2, 159.4667) -> (1.2, 162.6667) centre (-2, 162.6667) ccw
  line L63 (-2, 159.4667) -> (-4.8, 159.4667)
  line L64 (-4.8, 159.4667) -> (-4.8, 157.8667)
  line L65 (-4.8, 157.8667) -> (-2, 157.8667)
  arc A30 (1.2, 154.6667) -> (-2, 157.8667) centre (-2, 154.6667) ccw
  line L66 (1.2, 154.6667) -> (1.2, 144.3333)
  arc A31 (-2, 141.1333) -> (1.2, 144.3333) centre (-2, 144.3333) ccw
  line L67 (-2, 141.1333) -> (-4.8, 141.1333)
  line L68 (-4.8, 141.1333) -> (-4.8, 139.5333)
  line L69 (-4.8, 139.5333) -> (-2, 139.5333)
  arc A32 (1.2, 136.3333) -> (-2, 139.5333) centre (-2, 136.3333) ccw
  line L70 (1.2, 136.3333) -> (1.2, 126)
  arc A33 (-2, 122.8) -> (1.2, 126) centre (-2, 126) ccw
  line L71 (-2, 122.8) -> (-4.8, 122.8)
  line L72 (-4.8, 122.8) -> (-4.8, 121.2)
  line L73 (-4.8, 121.2) -> (1, 121.2)
  arc A34 (1, 121.2) -> (8.8, 129) centre (1, 129) ccw
  line L74 (8.8, 129) -> (8.8, 200)
  arc A35 (-0.7194, 177) -> (2.2, 181) centre (-2, 181) ccw
  line L75 (2.2, 200) -> (2.2, 181)
  line L76 (7.8, 129) -> (7.8, 200)
  arc A36 (1, 122.2) -> (7.8, 129) centre (1, 129) ccw
  line L77 (-0.2111, 122.2) -> (1, 122.2)
  arc A37 (-0.2111, 122.2) -> (2.2, 126) centre (-2, 126) ccw
  line L78 (2.2, 136.3333) -> (2.2, 126)
  arc A38 (2.2, 136.3333) -> (-0.7194, 140.3333) centre (-2, 136.3333) ccw
  arc A39 (-0.7194, 140.3333) -> (2.2, 144.3333) centre (-2, 144.3333) ccw
  line L79 (2.2, 154.6667) -> (2.2, 144.3333)
  arc A40 (2.2, 154.6667) -> (-0.7194, 158.6667) centre (-2, 154.6667) ccw
  arc A41 (-0.7194, 158.6667) -> (2.2, 162.6667) centre (-2, 162.6667) ccw
  line L80 (2.2, 173) -> (2.2, 162.6667)
  arc A42 (2.2, 173) -> (-0.7194, 177) centre (-2, 173) ccw
extrude "Extrude4" add sketch "Sketch2" along normal blind 1 separate body contours L1 L2 A2 L3 L4 L5 A3 L6 L43 A21 L44 L57 | L2 A2 L3 L9 A5 L10 L15 A7 L16 A8 L17 L23 A11 L24 A12 L25 L31 A15 L32 A16 L33 L39 A19 L40 A20 L41 L42 L43 A21 L44 L45 L46 A22 L47 L48 L49 A23 L50 A24 L51 L52 L53 A25 L54 A26 L55 L56 L58 A27 L59 L60 L61 A28 L62 A29 L63 L64 L65 A30 L66 A31 L67 L68 L69 A32 L70 A33 L71 L72 L73 A34 L74 | L45 L58 A27 L59 L60 L61 A28 L62 A29 L63 L64 L65 A30 L66 A31 L67 L68 L69 A32 L70 A33 L71 L72 L73 A34 L74 A35 L75 L76 A36 L77 A37 L78 A38 A39 L79 A40 A41 L80 A42 | L45 A35 L75 L76 A36 L77 A37 L78 A38 A39 L79 A40 A41 L80 A42 | L31 A15 L32 A16 L33 L34 L35 A17 L36 A18 L37 L38 L39 A19 L40 A20 L41 | L9 A5 L10 L11 L12 A6 L13 L14 L46 A22 L47 | L23 A11 L24 A12 L25 L26 L27 A13 L28 A14 L29 L30 L53 A25 L54 A26 L55 | L15 A7 L16 A8 L17 L18 L19 A9 L20 A10 L21 L22 L49 A23 L50 A24 L51 makes body 2
extrude "Extrude5" add sketch "Sketch2" against normal blind 1 contours L45 L58 A27 L59 L60 L61 A28 L62 A29 L63 L64 L65 A30 L66 A31 L67 L68 L69 A32 L70 A33 L71 L72 L73 A34 L74 A35 L75 L76 A36 L77 A37 L78 A38 A39 L79 A40 A41 L80 A42 bodies 2
ref_plane "WorkPlane1" through (3, -36, 177) normal (0, -1, 0) x (0, 0, -1)
sketch "Sketch3" plane through (0, -36, 0) normal (0, -1, 0) x (-1, 0, 0)
  line L0 (0, -179) -> (0, -175)
  line L1 (0, -175) -> (-6, -175)
  line L2 (-6, -175) -> (-6, -176)
  line L3 (-6, -176) -> (-1, -176)
  line L4 (-1, -176) -> (-1, -178)
  line L5 (-1, -178) -> (-6, -178)
  line L6 (-6, -178) -> (-6, -179)
  line L7 (-6, -179) -> (0, -179)
  line L8 (-6, -179) -> (-6, -175)
  line L9 (-6, -175) -> (-7, -175)
  line L10 (-7, -175) -> (-7, -179)
  line L11 (-7, -179) -> (-6, -179)
  line L12 (-6, -176.2) -> (-6, -177.8)
  line L13 (-6, -177.8) -> (-5, -177.8)
  line L14 (-5, -177.8) -> (-5, -176.2)
  line L15 (-5, -176.2) -> (-6, -176.2)
  line L16 (-1.2, -176.2) -> (-1.2, -177.8)
  line L17 (-4.8, -177.8) -> (-4.8, -176.2)
  line L18 (-6.2, -179) -> (-6.2, -179.2)
  circle A0 centre (-3.5, -177) radius 1
  line L19 (-1.2, -177.8) -> (-2.9, -177.8)
  line L20 (-4.1, -177.8) -> (-4.8, -177.8)
  line L21 (-4.8, -176.2) -> (-4.1, -176.2)
  line L22 (-2.9, -176.2) -> (-1.2, -176.2)
  dimension "d30" = 2
extrude "Extrude6" add sketch "Sketch3" along normal blind 1 separate body makes body 3
extrude "Extrude7" add sketch "Sketch3" against normal blind 1 contours L17 A0 L20 L21 | L16 A0 L19 L22 bodies 3
extrude "Extrude8" cut sketch "Sketch3" along normal blind 3.4 contours A0 bodies 3
